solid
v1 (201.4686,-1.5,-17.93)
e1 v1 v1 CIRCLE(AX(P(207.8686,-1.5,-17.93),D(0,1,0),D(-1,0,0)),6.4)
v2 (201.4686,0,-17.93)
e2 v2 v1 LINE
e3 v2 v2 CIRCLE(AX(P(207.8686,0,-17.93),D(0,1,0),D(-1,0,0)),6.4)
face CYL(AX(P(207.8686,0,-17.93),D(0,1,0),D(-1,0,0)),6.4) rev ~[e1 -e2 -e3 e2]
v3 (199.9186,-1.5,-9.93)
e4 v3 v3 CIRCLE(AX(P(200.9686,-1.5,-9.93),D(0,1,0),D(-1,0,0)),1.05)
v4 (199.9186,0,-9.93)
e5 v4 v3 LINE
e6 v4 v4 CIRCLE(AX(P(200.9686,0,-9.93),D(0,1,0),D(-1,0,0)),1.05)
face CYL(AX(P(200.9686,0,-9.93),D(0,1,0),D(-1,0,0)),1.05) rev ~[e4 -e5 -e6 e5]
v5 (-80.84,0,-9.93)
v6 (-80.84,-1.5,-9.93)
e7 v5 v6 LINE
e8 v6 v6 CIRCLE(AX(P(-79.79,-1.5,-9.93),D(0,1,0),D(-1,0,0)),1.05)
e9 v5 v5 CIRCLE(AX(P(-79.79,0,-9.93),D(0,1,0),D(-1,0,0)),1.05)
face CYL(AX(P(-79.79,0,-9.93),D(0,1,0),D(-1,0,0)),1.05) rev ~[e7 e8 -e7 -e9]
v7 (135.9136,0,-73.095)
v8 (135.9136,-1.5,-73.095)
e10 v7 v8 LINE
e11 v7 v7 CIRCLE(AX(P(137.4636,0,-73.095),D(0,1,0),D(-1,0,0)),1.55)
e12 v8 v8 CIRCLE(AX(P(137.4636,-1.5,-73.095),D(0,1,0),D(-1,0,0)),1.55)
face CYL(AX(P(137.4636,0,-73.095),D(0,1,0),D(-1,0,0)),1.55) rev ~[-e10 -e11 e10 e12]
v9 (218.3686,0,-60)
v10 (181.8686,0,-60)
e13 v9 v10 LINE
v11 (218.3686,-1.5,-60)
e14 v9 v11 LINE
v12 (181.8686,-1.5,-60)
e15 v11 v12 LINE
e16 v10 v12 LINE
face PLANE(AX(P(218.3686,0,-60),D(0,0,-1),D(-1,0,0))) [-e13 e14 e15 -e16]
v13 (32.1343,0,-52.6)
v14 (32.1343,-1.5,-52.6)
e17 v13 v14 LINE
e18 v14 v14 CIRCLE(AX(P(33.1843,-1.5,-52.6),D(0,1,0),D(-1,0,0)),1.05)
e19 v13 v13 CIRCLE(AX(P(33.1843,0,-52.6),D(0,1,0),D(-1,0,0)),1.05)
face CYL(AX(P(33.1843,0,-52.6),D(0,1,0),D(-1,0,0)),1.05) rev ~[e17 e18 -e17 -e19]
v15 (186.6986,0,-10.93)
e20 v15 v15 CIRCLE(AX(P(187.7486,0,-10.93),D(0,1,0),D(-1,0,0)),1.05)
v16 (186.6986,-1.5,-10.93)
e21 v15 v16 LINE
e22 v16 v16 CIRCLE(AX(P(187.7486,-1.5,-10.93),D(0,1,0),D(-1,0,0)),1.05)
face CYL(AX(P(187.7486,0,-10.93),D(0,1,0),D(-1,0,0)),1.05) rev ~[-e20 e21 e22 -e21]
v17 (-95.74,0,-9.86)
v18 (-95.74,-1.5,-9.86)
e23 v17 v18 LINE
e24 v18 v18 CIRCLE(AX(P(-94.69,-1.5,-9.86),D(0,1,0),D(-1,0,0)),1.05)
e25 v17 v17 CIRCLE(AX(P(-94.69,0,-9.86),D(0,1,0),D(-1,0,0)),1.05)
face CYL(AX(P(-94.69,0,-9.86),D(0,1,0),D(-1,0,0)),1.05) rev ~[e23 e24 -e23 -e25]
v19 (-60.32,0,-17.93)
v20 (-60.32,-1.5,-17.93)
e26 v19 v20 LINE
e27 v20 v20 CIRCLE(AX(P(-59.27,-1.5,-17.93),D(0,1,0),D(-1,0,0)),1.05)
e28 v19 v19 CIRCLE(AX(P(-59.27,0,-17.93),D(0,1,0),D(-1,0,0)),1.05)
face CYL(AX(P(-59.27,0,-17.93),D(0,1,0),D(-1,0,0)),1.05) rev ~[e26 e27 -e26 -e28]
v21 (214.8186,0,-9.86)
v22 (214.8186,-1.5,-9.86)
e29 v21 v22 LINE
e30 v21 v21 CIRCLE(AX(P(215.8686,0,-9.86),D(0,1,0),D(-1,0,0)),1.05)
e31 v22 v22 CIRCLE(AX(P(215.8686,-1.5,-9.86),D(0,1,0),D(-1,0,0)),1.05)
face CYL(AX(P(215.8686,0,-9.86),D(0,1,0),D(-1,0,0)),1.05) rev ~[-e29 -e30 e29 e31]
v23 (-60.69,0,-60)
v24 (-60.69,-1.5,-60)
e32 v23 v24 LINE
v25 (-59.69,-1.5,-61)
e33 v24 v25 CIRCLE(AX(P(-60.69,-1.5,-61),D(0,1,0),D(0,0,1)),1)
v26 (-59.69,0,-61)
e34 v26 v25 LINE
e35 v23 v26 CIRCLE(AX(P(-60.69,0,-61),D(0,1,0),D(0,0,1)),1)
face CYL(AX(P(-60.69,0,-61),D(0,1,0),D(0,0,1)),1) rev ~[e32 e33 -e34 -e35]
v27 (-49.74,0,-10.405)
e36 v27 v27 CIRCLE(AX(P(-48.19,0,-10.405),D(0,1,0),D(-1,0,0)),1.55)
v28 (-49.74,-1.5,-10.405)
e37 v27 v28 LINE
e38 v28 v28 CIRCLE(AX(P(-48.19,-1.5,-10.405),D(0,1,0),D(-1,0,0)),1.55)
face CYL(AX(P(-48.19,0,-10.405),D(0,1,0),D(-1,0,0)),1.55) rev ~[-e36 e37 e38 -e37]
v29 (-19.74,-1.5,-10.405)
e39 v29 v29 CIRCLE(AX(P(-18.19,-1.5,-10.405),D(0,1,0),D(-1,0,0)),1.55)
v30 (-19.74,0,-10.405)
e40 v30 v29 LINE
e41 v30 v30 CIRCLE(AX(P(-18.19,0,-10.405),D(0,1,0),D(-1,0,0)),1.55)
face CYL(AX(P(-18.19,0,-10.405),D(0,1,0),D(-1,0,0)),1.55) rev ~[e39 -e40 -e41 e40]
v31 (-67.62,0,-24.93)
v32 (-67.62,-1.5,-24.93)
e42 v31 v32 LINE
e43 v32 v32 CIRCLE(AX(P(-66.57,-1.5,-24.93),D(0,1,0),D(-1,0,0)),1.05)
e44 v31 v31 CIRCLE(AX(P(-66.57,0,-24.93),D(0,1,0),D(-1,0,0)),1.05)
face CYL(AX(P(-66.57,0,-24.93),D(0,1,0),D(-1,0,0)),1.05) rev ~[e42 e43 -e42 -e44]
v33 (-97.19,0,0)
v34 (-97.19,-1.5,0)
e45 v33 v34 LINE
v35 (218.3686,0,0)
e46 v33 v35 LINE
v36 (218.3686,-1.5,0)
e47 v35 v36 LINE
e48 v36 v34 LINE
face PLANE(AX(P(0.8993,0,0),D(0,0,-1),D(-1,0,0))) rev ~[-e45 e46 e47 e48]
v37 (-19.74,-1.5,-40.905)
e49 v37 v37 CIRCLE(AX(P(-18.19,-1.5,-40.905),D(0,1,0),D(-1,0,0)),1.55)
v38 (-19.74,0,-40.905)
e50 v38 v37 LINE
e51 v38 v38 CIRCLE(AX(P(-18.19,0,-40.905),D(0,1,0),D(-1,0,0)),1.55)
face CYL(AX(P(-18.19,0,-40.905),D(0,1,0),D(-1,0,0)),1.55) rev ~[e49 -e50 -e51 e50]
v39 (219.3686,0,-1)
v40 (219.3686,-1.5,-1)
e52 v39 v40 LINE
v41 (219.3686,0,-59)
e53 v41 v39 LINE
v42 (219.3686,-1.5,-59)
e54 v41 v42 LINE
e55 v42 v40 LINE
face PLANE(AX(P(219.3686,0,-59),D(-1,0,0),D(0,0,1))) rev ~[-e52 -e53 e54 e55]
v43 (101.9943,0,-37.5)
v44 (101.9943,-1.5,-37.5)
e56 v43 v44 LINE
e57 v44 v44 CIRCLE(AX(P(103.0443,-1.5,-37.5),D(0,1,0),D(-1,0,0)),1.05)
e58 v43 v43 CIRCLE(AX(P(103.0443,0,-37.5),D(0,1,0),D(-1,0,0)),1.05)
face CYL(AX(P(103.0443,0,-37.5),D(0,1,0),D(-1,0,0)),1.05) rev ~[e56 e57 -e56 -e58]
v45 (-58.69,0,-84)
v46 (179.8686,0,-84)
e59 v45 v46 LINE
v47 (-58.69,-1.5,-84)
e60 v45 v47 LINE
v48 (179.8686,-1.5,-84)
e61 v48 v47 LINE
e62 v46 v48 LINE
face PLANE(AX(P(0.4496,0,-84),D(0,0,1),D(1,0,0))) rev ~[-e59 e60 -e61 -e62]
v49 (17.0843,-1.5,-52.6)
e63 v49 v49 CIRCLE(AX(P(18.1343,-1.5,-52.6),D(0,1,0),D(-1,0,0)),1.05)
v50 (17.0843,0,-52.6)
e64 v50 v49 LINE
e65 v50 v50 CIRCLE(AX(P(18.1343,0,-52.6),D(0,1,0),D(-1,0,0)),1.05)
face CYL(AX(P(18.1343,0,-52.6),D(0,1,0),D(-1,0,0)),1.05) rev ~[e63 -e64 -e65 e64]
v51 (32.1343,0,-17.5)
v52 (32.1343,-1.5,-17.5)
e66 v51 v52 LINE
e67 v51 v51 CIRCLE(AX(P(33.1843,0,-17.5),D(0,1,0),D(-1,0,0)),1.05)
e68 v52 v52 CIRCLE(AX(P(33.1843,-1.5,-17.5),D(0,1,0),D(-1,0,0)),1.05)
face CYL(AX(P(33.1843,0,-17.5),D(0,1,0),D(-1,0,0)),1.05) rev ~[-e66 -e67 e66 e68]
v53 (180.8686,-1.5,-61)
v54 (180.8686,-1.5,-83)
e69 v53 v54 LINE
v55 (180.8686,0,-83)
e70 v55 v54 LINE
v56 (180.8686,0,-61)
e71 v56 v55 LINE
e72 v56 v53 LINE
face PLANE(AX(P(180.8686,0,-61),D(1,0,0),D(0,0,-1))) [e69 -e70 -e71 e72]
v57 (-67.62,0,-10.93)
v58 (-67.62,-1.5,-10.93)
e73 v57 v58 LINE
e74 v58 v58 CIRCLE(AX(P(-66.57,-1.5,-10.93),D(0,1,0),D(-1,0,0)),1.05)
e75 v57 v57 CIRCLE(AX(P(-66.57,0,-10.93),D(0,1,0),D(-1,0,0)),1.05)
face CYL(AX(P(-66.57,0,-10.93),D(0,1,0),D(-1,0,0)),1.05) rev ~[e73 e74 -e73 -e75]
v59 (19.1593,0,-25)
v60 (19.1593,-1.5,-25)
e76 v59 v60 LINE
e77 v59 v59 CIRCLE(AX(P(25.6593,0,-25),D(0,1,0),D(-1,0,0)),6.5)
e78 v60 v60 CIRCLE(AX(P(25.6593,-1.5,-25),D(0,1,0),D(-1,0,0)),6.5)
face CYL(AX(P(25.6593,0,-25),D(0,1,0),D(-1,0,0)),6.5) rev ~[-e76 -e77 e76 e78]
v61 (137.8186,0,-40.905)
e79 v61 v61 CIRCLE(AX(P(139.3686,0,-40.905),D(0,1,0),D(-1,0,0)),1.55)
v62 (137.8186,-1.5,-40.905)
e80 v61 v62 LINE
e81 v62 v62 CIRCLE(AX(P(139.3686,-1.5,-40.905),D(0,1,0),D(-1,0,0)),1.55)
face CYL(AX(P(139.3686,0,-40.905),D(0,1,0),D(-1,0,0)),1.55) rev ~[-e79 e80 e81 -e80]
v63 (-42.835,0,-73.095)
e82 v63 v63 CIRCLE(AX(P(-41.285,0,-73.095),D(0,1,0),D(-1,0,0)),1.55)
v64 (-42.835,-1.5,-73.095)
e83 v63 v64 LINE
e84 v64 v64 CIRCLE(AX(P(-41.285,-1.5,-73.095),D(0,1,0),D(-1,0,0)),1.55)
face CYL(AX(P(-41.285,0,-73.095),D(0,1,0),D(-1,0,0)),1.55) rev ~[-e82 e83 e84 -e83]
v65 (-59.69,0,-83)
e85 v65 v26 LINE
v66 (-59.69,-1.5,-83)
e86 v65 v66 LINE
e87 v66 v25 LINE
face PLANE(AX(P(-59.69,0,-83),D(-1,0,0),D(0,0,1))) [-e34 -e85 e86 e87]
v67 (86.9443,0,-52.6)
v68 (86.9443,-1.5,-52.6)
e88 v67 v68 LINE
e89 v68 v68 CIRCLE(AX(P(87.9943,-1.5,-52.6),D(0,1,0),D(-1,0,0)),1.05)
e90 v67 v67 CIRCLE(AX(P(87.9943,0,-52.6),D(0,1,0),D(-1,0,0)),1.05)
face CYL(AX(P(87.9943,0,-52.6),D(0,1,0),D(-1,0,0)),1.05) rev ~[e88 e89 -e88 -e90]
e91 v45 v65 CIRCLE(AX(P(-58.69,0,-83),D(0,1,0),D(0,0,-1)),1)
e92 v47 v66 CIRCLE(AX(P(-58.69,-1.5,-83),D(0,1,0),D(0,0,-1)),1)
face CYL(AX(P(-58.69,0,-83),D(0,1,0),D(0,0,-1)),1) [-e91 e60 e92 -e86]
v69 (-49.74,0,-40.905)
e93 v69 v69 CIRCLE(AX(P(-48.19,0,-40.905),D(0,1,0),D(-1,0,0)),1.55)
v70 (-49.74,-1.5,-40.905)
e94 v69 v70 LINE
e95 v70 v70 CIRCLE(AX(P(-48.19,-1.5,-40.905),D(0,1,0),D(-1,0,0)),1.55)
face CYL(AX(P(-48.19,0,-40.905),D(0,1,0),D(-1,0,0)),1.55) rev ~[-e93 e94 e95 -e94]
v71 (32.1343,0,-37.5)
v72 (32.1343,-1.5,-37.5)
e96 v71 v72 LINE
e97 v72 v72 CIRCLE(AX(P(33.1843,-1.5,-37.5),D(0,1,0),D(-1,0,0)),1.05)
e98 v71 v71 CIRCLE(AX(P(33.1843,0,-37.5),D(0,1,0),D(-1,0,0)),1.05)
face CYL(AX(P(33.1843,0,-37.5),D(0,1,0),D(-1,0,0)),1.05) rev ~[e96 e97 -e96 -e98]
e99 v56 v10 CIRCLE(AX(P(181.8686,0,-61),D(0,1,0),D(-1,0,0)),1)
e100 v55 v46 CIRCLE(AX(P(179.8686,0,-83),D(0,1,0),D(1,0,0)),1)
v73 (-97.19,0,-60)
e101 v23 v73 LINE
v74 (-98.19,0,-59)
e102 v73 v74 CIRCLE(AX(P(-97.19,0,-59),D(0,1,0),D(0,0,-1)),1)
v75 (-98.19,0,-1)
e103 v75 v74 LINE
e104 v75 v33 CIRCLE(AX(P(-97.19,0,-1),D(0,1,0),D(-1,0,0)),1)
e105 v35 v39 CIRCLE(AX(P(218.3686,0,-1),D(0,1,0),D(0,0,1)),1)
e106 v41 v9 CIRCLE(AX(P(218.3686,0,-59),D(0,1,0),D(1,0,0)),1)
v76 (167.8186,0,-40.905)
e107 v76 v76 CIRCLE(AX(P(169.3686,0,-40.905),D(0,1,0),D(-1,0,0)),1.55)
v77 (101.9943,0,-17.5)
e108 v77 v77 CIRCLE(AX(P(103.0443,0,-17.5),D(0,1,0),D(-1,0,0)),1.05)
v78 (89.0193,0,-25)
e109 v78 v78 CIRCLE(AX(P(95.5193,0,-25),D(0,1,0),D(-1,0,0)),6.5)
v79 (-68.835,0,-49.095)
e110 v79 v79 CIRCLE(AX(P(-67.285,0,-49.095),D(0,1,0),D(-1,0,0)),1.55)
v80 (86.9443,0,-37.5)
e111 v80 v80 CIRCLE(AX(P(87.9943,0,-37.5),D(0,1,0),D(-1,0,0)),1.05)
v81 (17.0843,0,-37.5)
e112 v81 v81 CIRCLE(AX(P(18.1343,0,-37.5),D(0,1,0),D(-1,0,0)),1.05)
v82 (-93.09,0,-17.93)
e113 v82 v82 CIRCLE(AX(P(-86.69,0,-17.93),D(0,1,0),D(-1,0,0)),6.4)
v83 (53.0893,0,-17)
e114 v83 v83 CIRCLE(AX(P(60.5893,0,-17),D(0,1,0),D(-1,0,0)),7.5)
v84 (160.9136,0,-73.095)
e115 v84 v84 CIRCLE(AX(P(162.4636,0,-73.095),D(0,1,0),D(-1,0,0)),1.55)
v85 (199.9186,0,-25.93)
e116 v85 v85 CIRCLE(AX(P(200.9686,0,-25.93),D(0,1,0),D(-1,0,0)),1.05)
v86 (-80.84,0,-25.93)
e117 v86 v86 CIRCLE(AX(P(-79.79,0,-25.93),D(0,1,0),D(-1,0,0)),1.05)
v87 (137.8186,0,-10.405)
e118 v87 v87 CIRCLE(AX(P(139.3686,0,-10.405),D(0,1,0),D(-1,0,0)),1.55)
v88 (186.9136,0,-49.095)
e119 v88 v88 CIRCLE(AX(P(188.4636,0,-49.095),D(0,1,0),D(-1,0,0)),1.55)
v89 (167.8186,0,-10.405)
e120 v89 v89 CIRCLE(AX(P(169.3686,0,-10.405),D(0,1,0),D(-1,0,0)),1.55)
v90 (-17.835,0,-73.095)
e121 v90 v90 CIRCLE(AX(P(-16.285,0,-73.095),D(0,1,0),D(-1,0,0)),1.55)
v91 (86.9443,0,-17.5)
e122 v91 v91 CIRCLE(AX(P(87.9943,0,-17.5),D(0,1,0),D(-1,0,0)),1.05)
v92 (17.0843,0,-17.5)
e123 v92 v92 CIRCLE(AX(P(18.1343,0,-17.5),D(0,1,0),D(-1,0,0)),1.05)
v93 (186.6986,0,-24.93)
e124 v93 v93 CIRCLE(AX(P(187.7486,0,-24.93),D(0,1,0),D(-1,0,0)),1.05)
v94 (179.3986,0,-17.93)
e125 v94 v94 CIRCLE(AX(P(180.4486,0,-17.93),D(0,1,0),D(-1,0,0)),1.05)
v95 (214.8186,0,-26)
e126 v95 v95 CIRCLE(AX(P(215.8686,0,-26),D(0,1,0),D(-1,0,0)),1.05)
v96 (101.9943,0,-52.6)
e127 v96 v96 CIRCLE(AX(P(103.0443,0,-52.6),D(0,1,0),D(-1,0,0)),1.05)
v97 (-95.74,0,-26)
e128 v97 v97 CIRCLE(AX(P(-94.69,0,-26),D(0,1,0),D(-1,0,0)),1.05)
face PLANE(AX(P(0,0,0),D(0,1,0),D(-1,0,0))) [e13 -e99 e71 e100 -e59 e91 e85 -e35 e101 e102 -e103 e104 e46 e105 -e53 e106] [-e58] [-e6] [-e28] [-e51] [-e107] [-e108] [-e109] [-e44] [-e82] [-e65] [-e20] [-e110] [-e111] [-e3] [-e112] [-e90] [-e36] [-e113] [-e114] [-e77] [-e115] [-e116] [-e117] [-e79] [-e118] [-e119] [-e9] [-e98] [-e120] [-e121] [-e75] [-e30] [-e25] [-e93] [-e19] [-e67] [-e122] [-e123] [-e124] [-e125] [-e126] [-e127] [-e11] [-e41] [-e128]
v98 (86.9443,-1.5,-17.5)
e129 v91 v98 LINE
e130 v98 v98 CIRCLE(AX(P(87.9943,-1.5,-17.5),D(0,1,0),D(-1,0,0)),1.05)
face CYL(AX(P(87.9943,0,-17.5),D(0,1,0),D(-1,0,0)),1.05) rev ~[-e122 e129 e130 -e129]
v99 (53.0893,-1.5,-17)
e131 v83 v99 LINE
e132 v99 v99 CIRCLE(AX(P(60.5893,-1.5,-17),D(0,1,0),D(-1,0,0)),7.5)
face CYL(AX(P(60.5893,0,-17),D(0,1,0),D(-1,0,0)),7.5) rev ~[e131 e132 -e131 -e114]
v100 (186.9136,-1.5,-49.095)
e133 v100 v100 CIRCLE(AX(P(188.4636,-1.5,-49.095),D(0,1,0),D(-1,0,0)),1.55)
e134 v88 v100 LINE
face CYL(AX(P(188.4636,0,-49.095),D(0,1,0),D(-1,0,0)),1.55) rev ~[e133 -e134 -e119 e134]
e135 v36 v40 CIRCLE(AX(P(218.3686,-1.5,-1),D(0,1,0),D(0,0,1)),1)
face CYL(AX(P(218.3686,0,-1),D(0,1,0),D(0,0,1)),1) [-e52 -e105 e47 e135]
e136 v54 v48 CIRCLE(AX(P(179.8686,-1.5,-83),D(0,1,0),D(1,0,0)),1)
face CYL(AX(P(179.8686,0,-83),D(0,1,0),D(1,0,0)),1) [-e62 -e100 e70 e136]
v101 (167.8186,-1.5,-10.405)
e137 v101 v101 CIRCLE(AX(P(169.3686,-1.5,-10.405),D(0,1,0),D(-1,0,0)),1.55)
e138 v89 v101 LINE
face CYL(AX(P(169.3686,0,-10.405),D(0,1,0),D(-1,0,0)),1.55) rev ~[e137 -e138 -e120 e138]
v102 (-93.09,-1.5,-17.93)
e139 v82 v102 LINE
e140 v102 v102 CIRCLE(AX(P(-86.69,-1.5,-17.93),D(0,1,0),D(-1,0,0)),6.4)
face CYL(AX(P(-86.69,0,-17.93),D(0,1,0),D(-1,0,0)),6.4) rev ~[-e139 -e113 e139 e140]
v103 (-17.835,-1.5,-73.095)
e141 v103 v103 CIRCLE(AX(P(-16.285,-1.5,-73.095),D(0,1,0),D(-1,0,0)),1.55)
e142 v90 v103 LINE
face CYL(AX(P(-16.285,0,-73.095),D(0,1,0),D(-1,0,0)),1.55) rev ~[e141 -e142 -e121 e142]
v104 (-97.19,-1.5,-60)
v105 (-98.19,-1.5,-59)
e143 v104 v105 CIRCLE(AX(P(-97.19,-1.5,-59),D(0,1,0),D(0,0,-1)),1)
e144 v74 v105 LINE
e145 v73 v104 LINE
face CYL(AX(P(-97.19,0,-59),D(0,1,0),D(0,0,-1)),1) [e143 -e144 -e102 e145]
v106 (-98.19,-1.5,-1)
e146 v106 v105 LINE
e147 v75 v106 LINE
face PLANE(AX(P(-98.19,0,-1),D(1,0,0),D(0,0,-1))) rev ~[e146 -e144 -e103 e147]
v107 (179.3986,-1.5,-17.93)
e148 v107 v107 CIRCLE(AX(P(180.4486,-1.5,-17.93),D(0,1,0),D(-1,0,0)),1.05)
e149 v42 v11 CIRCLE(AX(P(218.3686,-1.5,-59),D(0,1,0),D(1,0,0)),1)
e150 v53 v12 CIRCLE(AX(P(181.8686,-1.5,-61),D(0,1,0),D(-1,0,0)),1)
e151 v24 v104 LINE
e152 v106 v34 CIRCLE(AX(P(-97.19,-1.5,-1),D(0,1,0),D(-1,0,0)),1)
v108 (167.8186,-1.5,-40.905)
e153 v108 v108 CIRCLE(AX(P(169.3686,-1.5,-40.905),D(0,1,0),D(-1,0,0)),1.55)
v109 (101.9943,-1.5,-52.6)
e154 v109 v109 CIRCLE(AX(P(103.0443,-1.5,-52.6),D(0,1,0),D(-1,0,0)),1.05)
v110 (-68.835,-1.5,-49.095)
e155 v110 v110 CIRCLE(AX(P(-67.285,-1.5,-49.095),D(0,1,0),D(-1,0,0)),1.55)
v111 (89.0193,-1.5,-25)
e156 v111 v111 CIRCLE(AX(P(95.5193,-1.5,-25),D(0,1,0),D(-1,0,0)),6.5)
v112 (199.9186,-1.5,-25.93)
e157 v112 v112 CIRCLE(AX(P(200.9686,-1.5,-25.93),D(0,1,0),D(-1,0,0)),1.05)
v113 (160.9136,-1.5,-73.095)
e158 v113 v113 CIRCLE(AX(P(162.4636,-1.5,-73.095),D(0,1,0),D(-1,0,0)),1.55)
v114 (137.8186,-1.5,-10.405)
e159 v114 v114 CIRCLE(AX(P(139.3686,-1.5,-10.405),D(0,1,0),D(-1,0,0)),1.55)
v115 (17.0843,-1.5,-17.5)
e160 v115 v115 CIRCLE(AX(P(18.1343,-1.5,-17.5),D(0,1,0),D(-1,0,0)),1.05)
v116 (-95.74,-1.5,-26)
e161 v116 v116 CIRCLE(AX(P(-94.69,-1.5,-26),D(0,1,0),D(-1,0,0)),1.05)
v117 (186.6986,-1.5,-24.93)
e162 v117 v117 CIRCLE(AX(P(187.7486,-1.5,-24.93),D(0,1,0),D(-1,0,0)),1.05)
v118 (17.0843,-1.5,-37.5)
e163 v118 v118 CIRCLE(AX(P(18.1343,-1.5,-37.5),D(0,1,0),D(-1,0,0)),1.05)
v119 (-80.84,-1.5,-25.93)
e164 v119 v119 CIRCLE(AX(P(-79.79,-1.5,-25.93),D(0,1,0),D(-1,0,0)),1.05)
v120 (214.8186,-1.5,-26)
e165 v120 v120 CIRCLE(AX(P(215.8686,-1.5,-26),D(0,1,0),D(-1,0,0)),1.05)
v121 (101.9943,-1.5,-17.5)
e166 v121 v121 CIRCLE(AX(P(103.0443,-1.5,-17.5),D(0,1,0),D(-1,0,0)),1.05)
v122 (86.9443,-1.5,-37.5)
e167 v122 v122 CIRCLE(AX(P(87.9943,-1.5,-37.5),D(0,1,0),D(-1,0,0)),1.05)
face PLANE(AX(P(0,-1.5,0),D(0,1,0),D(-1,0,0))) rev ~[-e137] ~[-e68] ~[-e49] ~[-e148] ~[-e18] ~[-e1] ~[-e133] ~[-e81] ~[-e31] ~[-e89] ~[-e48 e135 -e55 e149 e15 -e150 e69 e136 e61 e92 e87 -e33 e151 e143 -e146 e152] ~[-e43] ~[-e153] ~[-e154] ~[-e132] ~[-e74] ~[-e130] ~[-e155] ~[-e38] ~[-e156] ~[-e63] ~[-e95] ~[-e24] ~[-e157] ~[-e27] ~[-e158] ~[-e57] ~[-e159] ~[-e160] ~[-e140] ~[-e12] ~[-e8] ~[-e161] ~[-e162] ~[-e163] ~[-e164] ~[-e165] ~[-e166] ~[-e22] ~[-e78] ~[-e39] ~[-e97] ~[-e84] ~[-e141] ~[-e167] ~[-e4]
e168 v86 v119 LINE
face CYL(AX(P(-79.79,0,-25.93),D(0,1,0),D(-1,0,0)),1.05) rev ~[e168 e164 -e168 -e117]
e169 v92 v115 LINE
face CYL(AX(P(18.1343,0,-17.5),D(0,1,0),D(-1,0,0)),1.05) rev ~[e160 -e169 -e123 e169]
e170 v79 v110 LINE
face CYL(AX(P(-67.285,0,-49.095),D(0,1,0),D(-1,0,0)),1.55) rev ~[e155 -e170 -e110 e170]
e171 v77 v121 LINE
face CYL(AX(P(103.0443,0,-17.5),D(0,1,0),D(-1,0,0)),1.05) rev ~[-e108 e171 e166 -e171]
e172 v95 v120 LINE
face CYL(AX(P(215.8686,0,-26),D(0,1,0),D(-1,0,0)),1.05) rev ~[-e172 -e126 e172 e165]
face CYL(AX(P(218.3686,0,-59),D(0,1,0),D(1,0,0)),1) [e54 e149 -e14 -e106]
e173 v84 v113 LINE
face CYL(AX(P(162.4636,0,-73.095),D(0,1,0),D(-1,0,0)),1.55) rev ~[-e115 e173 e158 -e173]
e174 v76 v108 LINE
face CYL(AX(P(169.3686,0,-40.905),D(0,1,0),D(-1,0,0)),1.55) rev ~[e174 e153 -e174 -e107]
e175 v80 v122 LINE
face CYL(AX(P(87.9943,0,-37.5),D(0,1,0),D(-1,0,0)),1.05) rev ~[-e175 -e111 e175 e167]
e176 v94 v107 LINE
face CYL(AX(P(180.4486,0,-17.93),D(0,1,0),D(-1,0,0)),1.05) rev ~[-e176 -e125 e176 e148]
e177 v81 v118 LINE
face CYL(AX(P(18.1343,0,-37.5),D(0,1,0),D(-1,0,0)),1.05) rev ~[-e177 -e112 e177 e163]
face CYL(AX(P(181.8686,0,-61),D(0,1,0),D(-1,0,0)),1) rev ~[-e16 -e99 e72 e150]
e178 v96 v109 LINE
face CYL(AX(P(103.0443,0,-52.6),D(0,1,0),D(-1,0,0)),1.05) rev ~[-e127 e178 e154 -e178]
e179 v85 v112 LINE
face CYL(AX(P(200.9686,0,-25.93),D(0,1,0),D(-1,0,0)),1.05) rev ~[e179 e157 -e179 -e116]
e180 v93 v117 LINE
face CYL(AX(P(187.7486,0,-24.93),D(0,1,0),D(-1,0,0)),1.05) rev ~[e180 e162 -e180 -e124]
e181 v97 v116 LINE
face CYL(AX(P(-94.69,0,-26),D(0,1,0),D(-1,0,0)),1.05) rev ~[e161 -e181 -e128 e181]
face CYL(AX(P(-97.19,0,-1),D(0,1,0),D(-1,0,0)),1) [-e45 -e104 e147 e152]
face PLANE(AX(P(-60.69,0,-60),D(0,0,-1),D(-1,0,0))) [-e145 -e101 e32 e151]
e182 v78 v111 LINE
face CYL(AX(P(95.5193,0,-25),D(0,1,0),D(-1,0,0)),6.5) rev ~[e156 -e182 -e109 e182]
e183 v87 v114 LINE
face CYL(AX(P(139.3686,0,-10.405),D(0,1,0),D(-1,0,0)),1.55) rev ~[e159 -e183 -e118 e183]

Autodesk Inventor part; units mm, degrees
ref_plane "YZ Plane" through (0, 0, 0) normal (1, 0, 0) x (0, 1, 0)
ref_plane "XZ Plane" through (0, 0, 0) normal (0, 1, 0) x (-1, 0, 0)
ref_plane "XY Plane" through (0, 0, 0) normal (0, 0, 1) x (1, 0, 0)
sketch "Sketch1" plane through (0, 0, 0) normal (0, 1, 0) x (-1, 0, 0)
  line L0 (-0.4496, -84) -> (-0.4496, 0)
  line L1 (-120.7289, 0) -> (-120.7289, -84)
  circle A0 centre (-60.5893, -17) radius 7.5
  circle A1 centre (-25.6593, -25) radius 6.5
  circle A2 centre (-95.5193, -25) radius 6.5
  circle A3 centre (-18.1343, -17.5) radius 1.05
  circle A4 centre (-18.1343, -37.5) radius 1.05
  circle A5 centre (-18.1343, -52.6) radius 1.05
  circle A6 centre (-33.1843, -52.6) radius 1.05
  circle A7 centre (-33.1843, -37.5) radius 1.05
  circle A8 centre (-33.1843, -17.5) radius 1.05
  circle A9 centre (-87.9943, -17.5) radius 1.05
  circle A10 centre (-87.9943, -37.5) radius 1.05
  circle A11 centre (-87.9943, -52.6) radius 1.05
  circle A12 centre (-103.0443, -52.6) radius 1.05
  circle A13 centre (-103.0443, -37.5) radius 1.05
  circle A14 centre (-103.0443, -17.5) radius 1.05
  circle A15 centre (-215.8686, -26) radius 1.05
  circle A16 centre (94.69, -26) radius 1.05
  circle A17 centre (-215.8686, -9.86) radius 1.05
  circle A18 centre (94.69, -9.86) radius 1.05
  circle A19 centre (-207.8686, -17.93) radius 6.4
  circle A20 centre (86.69, -17.93) radius 6.4
  circle A21 centre (-188.4636, -49.095) radius 1.55
  circle A22 centre (67.285, -49.095) radius 1.55
  circle A23 centre (-137.4636, -73.095) radius 1.55
  circle A24 centre (16.285, -73.095) radius 1.55
  circle A25 centre (-162.4636, -73.095) radius 1.55
  circle A26 centre (41.285, -73.095) radius 1.55
  circle A27 centre (-139.3686, -40.905) radius 1.55
  circle A28 centre (18.19, -40.905) radius 1.55
  circle A29 centre (-169.3686, -40.905) radius 1.55
  circle A30 centre (48.19, -40.905) radius 1.55
  circle A31 centre (-139.3686, -10.405) radius 1.55
  circle A32 centre (18.19, -10.405) radius 1.55
  circle A33 centre (-169.3686, -10.405) radius 1.55
  circle A34 centre (48.19, -10.405) radius 1.55
  circle A35 centre (-200.9686, -9.93) radius 1.05
  circle A36 centre (-200.9686, -25.93) radius 1.05
  circle A37 centre (-187.7486, -24.93) radius 1.05
  circle A38 centre (-180.4486, -17.93) radius 1.05
  circle A39 centre (-187.7486, -10.93) radius 1.05
  circle A40 centre (79.79, -9.93) radius 1.05
  circle A41 centre (79.79, -25.93) radius 1.05
  circle A42 centre (66.57, -24.93) radius 1.05
  circle A43 centre (59.27, -17.93) radius 1.05
  circle A44 centre (66.57, -10.93) radius 1.05
  arc A45 (-219.3686, -59) -> (-218.3686, -60) centre (-218.3686, -59) ccw
  line L2 (-218.3686, -60) -> (-181.8686, -60)
  arc A46 (-180.8686, -61) -> (-181.8686, -60) centre (-181.8686, -61) ccw
  arc A47 (-180.8686, -83) -> (-179.8686, -84) centre (-179.8686, -83) ccw
  line L3 (-180.8686, -61) -> (-180.8686, -83)
  arc A48 (58.69, -84) -> (59.69, -83) centre (58.69, -83) ccw
  line L4 (59.69, -83) -> (59.69, -61)
  arc A49 (60.69, -60) -> (59.69, -61) centre (60.69, -61) ccw
  line L5 (60.69, -60) -> (97.19, -60)
  arc A50 (97.19, -60) -> (98.19, -59) centre (97.19, -59) ccw
  line L6 (98.19, -1) -> (98.19, -59)
  arc A51 (98.19, -1) -> (97.19, 0) centre (97.19, -1) ccw
  line L7 (-218.3686, 0) -> (97.19, 0)
  arc A52 (-218.3686, 0) -> (-219.3686, -1) centre (-218.3686, -1) ccw
  line L8 (-219.3686, -59) -> (-219.3686, -1)
  line L9 (58.69, -84) -> (-179.8686, -84)
  line L10 (-121.1786, -84) -> (-121.1786, 0)
  line L11 (-120.2793, 0) -> (-120.2793, -84)
  line L12 (-0.8993, -84) -> (-0.8993, 0)
  line L13 (0, 0) -> (0, -84)
  point P0 (0, 0)
extrude "Extrusion1" add sketch "Sketch1" against normal blind 1.5
properties part number "body_main_frame"
